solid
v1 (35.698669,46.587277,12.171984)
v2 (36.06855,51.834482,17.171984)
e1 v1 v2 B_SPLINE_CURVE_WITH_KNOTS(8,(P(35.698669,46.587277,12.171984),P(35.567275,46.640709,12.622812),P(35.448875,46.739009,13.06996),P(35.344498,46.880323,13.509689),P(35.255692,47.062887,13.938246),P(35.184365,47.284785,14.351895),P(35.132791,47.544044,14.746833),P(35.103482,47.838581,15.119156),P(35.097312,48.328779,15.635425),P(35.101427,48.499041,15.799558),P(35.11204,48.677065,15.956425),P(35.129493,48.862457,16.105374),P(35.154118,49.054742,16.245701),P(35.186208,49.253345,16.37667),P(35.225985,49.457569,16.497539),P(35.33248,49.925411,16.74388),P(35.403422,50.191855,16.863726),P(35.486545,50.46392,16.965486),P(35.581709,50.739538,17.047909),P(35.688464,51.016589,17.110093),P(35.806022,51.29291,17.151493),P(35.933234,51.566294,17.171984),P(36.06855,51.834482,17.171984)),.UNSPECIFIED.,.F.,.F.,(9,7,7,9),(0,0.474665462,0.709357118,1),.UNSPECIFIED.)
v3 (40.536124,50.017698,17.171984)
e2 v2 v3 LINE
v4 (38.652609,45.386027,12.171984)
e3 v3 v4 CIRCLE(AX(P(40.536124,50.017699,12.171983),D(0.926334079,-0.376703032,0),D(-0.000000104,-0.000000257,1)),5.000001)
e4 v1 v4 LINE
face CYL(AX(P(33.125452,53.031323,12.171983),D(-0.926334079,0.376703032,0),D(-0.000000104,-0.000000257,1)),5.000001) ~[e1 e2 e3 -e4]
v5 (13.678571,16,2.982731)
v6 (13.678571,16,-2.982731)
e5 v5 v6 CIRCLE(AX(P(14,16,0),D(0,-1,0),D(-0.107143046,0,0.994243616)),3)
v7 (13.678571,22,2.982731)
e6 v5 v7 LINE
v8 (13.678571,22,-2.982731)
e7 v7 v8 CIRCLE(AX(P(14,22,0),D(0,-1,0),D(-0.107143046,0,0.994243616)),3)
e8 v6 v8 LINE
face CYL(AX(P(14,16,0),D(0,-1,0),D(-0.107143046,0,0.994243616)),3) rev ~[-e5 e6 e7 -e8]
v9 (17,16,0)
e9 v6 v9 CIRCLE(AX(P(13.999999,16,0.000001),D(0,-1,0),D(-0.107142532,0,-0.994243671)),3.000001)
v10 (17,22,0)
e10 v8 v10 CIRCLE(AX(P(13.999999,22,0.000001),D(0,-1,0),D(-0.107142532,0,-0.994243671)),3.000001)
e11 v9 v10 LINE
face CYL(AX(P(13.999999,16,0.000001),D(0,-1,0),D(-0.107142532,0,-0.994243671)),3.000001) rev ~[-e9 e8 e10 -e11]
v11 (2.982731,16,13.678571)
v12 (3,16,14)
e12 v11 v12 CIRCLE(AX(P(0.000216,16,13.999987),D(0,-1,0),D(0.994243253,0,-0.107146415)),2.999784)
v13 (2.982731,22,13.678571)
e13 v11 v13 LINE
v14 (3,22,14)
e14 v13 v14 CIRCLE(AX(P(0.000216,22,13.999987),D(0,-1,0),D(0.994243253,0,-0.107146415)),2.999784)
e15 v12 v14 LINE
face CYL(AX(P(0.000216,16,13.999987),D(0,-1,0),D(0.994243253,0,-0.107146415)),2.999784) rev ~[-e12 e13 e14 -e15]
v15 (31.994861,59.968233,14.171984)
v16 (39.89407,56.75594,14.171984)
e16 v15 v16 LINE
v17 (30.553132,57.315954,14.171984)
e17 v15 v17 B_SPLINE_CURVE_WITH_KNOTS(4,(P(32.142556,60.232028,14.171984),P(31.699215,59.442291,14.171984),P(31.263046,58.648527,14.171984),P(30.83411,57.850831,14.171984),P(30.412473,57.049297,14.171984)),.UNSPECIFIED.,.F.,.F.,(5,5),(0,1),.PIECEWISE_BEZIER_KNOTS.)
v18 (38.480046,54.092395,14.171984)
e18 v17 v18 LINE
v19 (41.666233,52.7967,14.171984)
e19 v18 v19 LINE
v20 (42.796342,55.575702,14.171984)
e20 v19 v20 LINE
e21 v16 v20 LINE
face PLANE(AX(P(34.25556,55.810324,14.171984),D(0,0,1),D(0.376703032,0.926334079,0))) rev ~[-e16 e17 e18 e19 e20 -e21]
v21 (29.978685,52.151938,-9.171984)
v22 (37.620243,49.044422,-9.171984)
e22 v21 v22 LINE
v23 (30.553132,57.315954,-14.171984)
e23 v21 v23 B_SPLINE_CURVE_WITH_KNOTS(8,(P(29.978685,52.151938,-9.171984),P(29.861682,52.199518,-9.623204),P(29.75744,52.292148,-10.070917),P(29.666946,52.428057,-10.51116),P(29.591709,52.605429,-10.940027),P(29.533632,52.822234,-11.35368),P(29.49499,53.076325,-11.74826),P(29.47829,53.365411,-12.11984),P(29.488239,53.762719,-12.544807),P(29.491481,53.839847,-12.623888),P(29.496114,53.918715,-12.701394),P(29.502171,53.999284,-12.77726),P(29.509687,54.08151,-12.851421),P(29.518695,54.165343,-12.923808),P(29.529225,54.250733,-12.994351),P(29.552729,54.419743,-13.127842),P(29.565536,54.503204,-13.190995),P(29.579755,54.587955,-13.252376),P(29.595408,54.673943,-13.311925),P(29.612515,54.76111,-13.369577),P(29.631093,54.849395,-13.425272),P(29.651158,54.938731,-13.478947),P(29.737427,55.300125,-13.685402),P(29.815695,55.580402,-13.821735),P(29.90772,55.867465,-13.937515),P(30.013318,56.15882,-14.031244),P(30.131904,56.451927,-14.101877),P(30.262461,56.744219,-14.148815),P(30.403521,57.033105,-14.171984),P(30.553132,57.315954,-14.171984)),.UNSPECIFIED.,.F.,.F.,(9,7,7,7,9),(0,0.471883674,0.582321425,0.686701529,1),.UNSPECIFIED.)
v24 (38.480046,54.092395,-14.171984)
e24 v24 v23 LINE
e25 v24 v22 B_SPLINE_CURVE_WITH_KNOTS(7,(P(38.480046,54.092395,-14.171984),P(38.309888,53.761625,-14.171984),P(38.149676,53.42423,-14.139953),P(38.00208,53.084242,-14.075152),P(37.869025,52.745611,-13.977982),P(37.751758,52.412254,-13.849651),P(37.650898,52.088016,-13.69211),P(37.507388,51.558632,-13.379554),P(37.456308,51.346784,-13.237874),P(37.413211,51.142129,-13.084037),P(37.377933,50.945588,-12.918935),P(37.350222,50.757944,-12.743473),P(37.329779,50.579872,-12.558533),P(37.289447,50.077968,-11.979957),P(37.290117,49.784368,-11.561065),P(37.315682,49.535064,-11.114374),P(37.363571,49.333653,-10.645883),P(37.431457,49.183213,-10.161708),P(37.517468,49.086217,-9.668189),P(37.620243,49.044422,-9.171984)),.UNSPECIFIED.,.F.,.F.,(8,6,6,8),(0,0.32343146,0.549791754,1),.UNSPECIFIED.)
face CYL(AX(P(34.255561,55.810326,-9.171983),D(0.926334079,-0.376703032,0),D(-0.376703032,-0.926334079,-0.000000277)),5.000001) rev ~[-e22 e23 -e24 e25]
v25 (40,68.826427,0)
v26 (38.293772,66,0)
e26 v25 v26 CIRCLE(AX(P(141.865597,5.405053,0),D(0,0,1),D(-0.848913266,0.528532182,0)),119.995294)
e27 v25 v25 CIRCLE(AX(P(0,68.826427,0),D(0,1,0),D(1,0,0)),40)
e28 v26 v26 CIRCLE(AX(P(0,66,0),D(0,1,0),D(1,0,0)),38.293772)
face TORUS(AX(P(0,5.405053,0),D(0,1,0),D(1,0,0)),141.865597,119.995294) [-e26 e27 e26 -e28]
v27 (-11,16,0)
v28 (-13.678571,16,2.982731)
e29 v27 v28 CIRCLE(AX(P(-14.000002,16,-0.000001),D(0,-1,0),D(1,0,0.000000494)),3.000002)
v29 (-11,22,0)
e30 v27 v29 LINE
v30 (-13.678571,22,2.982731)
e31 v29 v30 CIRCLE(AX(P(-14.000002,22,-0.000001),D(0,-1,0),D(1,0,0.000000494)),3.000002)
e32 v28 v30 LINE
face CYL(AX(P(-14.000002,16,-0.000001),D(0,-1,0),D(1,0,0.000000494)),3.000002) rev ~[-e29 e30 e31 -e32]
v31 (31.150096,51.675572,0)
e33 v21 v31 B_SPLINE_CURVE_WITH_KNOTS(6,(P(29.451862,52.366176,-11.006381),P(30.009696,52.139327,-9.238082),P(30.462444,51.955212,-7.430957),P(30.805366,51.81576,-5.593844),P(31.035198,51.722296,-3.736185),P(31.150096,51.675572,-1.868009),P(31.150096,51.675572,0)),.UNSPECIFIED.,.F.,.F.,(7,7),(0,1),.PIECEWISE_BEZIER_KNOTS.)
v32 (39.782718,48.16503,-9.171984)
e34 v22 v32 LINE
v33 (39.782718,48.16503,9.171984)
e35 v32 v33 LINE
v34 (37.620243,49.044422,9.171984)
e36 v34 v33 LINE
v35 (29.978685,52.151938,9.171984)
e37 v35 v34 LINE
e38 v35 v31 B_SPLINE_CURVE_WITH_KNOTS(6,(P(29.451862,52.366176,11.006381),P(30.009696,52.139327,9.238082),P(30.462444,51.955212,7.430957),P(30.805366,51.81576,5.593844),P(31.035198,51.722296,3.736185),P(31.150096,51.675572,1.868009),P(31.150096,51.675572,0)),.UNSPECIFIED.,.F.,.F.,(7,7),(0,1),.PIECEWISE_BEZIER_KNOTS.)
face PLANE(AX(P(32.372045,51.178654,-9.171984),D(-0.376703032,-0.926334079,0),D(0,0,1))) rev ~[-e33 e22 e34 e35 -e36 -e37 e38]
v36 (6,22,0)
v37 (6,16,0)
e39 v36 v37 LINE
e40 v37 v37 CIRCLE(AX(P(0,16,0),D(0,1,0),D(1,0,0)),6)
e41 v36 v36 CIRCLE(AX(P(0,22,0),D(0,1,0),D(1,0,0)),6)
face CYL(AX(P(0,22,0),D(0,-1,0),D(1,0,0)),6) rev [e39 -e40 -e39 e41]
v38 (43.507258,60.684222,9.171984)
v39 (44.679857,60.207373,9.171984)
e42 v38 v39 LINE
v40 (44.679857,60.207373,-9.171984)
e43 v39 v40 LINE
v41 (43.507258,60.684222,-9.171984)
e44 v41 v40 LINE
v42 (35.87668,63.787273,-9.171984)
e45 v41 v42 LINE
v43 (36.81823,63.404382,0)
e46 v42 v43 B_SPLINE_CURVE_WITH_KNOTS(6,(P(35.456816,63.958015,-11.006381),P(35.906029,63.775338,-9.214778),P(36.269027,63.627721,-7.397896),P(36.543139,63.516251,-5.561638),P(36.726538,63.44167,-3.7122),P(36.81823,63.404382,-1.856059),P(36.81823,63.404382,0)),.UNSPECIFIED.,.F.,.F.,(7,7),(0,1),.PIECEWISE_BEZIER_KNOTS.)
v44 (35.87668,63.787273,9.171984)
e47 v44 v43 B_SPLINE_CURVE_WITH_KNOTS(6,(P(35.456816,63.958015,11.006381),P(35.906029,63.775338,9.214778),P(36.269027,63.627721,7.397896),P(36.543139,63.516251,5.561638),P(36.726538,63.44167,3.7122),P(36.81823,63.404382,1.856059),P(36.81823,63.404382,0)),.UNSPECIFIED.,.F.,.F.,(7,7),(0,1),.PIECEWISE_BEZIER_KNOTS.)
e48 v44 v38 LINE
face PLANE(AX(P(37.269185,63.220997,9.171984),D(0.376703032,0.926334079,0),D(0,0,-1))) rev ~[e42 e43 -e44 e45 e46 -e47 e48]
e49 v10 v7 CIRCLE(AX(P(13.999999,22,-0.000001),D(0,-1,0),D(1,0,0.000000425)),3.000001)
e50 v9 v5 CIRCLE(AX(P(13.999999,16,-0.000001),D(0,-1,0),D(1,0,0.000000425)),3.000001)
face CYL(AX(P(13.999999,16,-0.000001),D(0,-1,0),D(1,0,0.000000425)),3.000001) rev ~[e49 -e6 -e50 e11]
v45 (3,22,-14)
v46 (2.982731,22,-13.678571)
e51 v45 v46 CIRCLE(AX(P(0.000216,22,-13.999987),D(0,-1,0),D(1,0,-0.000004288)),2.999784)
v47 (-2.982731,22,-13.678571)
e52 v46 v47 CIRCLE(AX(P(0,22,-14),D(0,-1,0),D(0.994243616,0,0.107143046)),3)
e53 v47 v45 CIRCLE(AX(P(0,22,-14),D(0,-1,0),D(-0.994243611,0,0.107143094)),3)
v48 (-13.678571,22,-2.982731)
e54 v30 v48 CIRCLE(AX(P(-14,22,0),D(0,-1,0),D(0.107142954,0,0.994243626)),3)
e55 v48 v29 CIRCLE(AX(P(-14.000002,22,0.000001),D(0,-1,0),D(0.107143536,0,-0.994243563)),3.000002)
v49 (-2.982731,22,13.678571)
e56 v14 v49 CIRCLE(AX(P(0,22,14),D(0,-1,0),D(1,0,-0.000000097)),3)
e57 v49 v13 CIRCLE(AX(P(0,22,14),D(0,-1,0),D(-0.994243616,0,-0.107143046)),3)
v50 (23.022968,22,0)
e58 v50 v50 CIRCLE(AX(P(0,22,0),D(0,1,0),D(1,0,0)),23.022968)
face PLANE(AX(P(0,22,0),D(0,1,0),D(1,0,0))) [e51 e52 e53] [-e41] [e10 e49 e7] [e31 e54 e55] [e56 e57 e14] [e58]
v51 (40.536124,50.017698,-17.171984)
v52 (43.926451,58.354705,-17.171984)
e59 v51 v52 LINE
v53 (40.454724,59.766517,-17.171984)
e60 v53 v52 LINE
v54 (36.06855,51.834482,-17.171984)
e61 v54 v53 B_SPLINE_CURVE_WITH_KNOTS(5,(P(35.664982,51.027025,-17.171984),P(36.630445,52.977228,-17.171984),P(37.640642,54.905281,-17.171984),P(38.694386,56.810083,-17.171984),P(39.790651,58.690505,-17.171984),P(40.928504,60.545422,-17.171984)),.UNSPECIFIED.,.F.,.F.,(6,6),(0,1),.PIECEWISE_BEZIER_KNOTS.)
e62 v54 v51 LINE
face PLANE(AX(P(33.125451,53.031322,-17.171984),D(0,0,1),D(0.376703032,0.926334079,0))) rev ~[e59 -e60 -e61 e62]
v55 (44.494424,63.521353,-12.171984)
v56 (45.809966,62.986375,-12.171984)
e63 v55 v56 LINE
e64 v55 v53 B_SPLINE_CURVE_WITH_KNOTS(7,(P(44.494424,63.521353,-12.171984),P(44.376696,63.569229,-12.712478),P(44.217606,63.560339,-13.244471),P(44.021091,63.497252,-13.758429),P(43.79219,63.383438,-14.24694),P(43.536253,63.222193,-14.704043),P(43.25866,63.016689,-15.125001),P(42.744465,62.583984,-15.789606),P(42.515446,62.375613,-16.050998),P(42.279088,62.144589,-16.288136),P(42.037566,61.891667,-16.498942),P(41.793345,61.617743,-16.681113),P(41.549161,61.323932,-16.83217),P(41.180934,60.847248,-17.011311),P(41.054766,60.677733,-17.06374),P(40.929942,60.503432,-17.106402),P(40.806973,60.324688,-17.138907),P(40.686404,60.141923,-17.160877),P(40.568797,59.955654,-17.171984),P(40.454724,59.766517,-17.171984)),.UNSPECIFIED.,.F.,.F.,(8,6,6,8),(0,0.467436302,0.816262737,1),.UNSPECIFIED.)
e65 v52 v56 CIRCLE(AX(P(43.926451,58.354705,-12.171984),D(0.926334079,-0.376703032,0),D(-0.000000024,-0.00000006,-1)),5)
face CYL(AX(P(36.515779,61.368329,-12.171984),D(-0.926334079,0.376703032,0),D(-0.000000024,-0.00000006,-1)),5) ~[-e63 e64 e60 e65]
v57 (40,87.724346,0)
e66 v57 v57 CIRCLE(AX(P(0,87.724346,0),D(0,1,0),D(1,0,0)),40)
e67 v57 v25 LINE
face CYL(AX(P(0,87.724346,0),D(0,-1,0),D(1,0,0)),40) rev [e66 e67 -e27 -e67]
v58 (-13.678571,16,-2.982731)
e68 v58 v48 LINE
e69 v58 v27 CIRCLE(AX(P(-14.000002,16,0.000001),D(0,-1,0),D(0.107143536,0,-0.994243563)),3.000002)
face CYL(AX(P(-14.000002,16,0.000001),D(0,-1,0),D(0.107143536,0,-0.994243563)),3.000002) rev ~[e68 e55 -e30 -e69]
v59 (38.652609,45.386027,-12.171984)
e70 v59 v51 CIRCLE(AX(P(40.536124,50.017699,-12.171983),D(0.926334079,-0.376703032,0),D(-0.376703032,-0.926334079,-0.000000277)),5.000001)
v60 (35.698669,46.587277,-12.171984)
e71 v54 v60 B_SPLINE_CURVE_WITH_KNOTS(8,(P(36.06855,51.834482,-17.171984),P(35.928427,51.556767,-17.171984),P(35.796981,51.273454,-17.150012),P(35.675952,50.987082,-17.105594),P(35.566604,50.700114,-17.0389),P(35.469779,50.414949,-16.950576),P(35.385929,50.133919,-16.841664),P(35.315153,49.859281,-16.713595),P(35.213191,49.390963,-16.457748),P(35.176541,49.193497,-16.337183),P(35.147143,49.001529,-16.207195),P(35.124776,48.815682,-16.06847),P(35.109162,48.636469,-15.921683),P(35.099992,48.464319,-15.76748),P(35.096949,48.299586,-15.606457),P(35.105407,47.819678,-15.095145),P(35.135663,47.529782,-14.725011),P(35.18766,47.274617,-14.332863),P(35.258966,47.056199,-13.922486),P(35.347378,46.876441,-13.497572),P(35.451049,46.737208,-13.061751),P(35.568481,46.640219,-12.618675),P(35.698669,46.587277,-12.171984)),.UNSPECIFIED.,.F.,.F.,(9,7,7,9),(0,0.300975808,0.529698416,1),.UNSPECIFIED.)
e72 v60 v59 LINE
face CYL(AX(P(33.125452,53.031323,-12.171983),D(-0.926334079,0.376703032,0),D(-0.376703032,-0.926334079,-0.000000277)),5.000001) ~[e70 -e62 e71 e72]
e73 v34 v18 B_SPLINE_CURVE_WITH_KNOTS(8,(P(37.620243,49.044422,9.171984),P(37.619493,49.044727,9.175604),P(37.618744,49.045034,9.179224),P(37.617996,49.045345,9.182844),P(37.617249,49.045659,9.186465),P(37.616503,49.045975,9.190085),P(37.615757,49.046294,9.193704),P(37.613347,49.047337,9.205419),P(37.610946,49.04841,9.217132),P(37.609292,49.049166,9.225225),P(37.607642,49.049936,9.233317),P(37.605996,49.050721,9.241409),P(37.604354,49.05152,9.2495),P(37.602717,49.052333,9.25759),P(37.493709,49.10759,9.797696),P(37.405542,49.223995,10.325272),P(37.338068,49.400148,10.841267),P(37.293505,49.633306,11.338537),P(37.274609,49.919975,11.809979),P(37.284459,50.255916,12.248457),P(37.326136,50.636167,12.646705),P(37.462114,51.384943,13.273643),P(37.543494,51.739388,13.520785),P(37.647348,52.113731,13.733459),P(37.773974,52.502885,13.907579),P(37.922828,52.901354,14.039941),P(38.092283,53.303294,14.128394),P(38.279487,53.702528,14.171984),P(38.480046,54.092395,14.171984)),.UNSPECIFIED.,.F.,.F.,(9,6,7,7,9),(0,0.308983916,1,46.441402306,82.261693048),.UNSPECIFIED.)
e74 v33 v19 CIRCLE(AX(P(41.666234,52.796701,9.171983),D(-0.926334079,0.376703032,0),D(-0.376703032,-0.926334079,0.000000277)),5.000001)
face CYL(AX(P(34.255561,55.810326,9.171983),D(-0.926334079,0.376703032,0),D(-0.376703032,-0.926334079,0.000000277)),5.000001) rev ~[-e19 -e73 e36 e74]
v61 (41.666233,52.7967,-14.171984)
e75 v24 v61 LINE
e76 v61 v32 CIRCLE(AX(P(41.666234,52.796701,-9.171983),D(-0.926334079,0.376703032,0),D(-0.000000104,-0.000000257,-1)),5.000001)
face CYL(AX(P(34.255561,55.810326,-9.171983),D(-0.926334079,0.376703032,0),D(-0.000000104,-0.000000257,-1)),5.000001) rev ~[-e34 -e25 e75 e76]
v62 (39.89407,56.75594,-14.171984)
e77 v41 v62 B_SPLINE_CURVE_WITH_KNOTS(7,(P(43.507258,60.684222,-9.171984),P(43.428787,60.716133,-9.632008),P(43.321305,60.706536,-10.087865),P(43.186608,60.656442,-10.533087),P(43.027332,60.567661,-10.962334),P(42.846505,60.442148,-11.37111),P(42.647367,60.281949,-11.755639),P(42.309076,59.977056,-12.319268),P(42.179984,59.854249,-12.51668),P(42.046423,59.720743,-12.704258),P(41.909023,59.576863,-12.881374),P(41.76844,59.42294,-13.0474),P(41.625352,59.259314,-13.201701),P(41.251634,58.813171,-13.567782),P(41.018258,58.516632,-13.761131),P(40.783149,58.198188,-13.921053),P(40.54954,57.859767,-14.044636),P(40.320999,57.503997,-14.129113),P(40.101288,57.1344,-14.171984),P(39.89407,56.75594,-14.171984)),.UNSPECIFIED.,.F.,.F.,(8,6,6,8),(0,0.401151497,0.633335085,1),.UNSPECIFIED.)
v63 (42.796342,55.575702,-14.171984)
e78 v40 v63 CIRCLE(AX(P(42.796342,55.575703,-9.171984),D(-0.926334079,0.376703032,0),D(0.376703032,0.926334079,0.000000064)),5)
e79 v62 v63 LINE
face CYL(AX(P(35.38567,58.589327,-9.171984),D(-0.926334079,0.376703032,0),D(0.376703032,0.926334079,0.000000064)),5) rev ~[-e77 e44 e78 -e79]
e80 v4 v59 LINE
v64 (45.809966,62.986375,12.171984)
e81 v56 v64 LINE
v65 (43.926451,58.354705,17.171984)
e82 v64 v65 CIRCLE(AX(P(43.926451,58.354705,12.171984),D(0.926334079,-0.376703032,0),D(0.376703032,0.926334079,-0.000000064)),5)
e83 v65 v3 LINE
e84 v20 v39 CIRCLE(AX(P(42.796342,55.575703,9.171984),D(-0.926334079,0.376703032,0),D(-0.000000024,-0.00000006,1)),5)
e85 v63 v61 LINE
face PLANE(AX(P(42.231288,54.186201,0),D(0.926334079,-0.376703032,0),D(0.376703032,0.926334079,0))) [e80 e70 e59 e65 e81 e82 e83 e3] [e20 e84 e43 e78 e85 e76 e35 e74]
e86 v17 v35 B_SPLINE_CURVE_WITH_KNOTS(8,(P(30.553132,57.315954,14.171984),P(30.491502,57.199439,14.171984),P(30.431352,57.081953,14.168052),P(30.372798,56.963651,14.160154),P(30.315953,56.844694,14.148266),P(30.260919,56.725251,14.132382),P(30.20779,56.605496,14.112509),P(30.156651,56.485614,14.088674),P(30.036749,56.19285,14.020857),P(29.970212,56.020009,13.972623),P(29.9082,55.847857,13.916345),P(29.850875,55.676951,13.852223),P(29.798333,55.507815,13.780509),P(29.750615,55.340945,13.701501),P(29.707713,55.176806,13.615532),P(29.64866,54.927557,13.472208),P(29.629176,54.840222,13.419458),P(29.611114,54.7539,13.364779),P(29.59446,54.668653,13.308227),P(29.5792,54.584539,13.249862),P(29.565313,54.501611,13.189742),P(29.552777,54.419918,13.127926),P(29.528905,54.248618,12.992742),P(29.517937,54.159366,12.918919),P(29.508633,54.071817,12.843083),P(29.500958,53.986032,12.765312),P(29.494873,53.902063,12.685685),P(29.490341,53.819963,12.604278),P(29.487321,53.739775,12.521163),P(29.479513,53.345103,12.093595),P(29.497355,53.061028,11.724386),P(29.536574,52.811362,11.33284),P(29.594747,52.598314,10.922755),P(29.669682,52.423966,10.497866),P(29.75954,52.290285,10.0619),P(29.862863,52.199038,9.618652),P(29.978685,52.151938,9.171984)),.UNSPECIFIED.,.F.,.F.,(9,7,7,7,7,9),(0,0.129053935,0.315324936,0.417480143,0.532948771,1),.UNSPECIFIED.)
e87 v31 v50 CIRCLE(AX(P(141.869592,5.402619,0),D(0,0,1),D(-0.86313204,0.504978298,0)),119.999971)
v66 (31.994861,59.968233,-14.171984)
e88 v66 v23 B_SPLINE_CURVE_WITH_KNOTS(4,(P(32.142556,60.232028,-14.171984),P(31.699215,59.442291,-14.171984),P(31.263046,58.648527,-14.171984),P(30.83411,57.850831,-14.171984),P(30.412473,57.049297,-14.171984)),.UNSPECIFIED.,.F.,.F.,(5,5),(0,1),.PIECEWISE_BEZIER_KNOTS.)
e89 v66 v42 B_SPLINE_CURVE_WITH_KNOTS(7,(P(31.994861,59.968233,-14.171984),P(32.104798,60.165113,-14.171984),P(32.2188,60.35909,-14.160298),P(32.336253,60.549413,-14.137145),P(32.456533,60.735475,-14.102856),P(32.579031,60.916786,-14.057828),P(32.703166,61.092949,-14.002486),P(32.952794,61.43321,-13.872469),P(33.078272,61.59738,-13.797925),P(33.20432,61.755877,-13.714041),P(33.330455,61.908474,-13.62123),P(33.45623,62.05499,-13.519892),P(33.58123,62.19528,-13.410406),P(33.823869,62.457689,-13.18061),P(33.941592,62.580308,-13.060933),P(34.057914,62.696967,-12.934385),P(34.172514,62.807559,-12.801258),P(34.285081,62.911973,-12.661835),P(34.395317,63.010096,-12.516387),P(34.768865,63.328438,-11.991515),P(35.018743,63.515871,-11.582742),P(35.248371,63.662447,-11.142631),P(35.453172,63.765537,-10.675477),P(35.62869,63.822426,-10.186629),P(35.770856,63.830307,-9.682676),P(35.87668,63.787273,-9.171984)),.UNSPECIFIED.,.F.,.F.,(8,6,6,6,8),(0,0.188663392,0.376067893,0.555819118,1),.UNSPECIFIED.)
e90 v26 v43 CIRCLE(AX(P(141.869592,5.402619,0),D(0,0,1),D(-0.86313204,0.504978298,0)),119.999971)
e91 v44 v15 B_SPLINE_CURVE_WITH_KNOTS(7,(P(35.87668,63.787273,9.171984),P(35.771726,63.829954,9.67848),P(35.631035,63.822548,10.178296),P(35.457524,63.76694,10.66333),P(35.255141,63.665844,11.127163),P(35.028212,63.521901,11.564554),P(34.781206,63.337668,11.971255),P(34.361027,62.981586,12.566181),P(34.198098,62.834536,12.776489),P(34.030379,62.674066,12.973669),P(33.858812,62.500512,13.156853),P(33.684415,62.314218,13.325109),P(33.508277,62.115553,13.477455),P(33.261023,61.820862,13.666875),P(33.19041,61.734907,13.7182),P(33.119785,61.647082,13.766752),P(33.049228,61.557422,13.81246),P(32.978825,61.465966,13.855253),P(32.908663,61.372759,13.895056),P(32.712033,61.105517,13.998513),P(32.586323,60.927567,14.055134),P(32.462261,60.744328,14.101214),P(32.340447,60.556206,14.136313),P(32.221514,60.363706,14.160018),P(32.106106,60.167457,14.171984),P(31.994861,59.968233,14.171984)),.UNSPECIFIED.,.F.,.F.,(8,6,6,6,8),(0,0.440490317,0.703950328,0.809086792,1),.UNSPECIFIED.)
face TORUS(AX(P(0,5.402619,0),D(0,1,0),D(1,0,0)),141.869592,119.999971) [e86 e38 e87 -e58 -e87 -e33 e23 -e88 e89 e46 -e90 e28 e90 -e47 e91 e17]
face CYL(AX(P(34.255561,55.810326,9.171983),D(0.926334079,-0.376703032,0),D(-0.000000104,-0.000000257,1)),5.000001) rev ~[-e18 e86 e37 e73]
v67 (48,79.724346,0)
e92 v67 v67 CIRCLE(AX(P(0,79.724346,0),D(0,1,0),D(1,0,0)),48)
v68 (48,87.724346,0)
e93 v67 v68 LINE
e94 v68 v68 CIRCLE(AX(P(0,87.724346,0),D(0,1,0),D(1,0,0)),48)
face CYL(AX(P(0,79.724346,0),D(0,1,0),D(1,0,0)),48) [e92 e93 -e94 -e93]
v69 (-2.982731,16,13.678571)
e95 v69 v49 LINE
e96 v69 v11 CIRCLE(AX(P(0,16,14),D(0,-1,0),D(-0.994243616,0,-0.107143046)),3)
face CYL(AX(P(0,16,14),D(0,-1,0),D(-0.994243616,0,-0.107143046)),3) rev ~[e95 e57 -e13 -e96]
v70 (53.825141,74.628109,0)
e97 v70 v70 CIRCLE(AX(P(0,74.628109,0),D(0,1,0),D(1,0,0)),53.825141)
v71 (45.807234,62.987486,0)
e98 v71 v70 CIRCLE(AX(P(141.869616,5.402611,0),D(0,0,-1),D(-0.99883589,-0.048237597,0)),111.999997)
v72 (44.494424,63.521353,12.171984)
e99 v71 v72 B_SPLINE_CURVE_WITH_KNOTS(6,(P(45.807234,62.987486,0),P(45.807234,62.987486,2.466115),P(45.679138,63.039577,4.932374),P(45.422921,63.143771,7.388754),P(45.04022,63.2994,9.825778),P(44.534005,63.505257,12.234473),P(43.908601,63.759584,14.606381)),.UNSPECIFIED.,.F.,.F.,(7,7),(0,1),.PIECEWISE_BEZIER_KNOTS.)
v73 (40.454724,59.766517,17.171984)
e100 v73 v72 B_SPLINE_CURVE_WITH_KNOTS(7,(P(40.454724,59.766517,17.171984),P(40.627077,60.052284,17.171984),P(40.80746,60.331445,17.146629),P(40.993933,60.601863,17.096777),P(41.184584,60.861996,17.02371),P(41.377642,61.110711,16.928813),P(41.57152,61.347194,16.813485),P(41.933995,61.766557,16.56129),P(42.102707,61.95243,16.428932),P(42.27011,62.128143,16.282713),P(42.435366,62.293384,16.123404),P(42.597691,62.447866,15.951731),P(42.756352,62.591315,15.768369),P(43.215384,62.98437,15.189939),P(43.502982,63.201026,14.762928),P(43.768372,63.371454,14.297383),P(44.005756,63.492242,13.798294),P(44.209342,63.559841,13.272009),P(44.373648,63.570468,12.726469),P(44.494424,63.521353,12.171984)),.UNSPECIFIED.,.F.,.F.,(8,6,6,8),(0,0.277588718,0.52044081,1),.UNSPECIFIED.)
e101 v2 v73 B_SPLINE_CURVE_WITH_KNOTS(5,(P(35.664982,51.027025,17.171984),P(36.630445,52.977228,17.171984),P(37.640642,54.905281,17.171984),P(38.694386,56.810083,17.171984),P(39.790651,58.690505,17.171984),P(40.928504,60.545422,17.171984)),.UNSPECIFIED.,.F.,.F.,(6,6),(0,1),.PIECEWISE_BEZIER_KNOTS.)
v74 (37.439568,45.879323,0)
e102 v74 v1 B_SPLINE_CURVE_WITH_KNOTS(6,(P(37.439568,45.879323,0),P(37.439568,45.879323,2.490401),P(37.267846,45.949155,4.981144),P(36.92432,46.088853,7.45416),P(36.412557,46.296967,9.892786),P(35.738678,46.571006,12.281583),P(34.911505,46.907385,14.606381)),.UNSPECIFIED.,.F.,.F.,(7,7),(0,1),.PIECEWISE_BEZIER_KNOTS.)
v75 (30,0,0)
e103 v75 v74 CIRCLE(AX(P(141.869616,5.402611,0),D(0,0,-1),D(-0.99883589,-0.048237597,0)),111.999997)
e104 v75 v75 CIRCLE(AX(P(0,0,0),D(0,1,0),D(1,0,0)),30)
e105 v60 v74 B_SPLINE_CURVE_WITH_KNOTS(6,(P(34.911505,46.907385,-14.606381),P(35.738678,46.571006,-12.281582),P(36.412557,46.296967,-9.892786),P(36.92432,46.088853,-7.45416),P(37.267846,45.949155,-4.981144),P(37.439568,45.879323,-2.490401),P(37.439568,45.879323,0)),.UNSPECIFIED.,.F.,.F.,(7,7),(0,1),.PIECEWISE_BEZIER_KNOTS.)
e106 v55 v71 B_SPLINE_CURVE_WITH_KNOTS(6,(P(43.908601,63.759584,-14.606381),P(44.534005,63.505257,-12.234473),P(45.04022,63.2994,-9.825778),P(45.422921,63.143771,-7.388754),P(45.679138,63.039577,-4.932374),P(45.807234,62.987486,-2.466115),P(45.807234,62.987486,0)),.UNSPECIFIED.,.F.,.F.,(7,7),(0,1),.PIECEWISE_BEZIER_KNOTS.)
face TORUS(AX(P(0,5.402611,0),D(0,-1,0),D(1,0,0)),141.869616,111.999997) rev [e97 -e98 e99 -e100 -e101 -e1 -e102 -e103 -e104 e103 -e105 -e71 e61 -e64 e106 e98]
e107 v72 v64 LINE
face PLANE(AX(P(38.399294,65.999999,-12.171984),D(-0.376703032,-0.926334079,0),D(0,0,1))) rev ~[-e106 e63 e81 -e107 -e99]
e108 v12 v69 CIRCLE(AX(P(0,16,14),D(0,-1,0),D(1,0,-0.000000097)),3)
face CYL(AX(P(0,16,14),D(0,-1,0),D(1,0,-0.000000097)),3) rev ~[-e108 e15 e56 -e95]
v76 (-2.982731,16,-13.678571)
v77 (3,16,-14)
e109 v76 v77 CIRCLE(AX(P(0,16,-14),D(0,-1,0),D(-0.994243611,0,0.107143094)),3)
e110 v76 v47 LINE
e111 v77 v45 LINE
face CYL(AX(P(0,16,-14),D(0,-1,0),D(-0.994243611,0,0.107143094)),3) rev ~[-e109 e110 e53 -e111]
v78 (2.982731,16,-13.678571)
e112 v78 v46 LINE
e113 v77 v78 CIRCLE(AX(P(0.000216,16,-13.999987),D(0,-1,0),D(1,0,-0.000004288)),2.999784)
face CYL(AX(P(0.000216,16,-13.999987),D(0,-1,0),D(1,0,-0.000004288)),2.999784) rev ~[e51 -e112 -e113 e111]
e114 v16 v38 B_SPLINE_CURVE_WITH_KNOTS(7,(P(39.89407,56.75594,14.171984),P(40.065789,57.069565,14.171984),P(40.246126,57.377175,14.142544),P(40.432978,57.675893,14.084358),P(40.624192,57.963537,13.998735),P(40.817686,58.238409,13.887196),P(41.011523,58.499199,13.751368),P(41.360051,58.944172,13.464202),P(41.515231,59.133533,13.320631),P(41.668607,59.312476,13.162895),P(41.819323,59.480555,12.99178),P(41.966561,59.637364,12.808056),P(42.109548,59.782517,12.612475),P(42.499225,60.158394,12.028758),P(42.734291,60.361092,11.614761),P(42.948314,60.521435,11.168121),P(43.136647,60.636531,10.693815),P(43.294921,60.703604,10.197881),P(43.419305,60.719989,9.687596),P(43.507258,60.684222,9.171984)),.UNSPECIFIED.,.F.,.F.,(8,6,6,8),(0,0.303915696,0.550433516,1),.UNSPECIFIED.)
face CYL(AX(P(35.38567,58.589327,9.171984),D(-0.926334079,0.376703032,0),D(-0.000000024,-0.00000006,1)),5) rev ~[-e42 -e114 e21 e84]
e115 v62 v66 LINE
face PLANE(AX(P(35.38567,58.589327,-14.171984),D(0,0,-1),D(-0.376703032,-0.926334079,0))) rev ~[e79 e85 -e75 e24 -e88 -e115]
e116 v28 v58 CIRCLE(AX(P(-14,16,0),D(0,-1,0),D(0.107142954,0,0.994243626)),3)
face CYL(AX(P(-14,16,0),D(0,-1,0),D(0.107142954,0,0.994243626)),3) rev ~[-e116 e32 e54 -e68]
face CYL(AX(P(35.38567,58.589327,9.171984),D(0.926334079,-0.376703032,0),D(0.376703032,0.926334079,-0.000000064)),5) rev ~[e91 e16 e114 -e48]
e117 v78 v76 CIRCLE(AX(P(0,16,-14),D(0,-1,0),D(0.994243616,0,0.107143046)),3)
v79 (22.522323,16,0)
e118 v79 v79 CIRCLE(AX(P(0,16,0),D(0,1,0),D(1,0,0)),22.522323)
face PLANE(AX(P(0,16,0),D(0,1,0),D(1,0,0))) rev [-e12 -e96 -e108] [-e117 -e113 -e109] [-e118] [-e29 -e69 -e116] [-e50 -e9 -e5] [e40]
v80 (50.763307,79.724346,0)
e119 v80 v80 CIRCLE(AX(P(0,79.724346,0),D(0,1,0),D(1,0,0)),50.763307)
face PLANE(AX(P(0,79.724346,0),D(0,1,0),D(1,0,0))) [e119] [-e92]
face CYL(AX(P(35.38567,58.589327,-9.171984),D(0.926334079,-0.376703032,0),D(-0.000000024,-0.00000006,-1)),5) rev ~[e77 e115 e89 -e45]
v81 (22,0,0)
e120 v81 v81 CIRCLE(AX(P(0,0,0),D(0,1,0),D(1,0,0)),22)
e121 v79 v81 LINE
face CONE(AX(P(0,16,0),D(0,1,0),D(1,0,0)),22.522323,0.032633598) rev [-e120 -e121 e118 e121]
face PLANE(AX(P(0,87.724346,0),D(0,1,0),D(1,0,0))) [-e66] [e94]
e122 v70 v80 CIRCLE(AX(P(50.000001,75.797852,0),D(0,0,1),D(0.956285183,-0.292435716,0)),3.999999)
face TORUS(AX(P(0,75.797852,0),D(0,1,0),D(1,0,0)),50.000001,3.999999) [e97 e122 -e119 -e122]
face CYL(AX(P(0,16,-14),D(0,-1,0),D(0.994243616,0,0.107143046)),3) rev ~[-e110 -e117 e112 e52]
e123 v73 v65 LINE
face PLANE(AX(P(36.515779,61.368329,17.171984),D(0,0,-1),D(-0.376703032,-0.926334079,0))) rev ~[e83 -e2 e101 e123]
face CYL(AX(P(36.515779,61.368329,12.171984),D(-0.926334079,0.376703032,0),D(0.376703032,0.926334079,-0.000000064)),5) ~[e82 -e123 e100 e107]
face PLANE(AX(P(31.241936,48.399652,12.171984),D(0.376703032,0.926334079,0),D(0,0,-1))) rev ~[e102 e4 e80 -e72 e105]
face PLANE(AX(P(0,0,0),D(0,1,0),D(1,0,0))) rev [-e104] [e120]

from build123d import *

# Parameters (mm, degrees)
F3_DEPTH = 25
F7_DEPTH = 8
F8_DEPTH = 12.7


with BuildPart() as f1:
    # F0 (on Top) → F1 (revolve)
    with BuildSketch(Plane.XY):
        with BuildLine():
            Line((6, 22), (6, 16))
            Line((6, 16), (22.248531, 16))
            Line((22.248531, 16), (22.522323, 16))
            Line((22.522323, 16), (22, 0))
            Line((22, 0), (30, 0))
            ThreePointArc((30, 0), (35.17496, 39.465047), (53.825141, 74.628109))
            ThreePointArc((53.825141, 74.628109), (53.428757, 77.857858), (50.763307, 79.724346))
            Line((50.763307, 79.724346), (48, 79.724346))
            Line((48, 79.724346), (48, 87.724346))
            Line((48, 87.724346), (40, 87.724346))
            Line((40, 87.724346), (40, 80))
            Line((40, 80), (40, 68.826427))
            ThreePointArc((40, 68.826427), (39.137165, 67.419082), (38.293772, 66))
            ThreePointArc((38.293772, 66), (28.503213, 44.747977), (23.022968, 22))
            Line((23.022968, 22), (6, 22))
        make_face()
    revolve(axis=Axis((0, 86, 0), (0, 1, 0)))

    # F2 (on face) → F3 (cut)
    with BuildSketch(Plane.XZ.offset(-16)):
        with BuildLine():
            ThreePointArc((3, 14), (-0.160946, 16.99568), (-2.982731, 13.678571))
            ThreePointArc((-2.982731, 13.678571), (0, 11), (2.982731, 13.678571))
            ThreePointArc((2.982731, 13.678571), (2.99568, 13.839054), (3, 14))
        make_face()
        with BuildLine():
            ThreePointArc((13.678571, 2.982731), (11, 0), (13.678571, -2.982731))
            ThreePointArc((13.678571, -2.982731), (16.004459, -2.232071), (17, 0))
            ThreePointArc((17, 0), (16.004459, 2.232071), (13.678571, 2.982731))
        make_face()
        with BuildLine():
            ThreePointArc((2.982731, -13.678571), (0, -11), (-2.982731, -13.678571))
            ThreePointArc((-2.982731, -13.678571), (-0.160946, -16.99568), (3, -14))
            ThreePointArc((3, -14), (2.99568, -13.839054), (2.982731, -13.678571))
        make_face()
        with BuildLine():
            ThreePointArc((-13.678571, 2.982731), (-17, 0), (-13.678571, -2.982731))
            ThreePointArc((-13.678571, -2.982731), (-11.767929, -2.004459), (-11, 0))
            ThreePointArc((-11, 0), (-11.767929, 2.004459), (-13.678571, 2.982731))
        make_face()
    extrude(amount=-F3_DEPTH, mode=Mode.SUBTRACT)

    # F6 (on face) → F7 (join)
    with BuildSketch(Plane(origin=(9.919347, -4.033802, 0), x_dir=(0.376703, 0.926334, 0), z_dir=(0.926334, -0.376703, 0))):
        with BuildLine():
            Line((75.603179, -12.171984), (75.603179, 0))
            Line((75.603179, 0), (75.603179, 12.171984))
            ThreePointArc((75.603179, 12.171984), (74.138713, 15.707518), (70.603179, 17.171984))
            Line((70.603179, 17.171984), (61.603179, 17.171984))
            ThreePointArc((61.603179, 17.171984), (58.067646, 15.707518), (56.603179, 12.171984))
            Line((56.603179, 12.171984), (56.603179, 0))
            Line((56.603179, 0), (56.603179, -12.171984))
            ThreePointArc((56.603179, -12.171984), (58.067646, -15.707518), (61.603179, -17.171984))
            Line((61.603179, -17.171984), (70.603179, -17.171984))
            ThreePointArc((70.603179, -17.171984), (74.138713, -15.707518), (75.603179, -12.171984))
        make_face()
        with BuildLine():
            Line((72.603179, 9.171984), (72.603179, 0))
            Line((72.603179, 0), (72.603179, -9.171984))
            ThreePointArc((72.603179, -9.171984), (71.138713, -12.707518), (67.603179, -14.171984))
            Line((67.603179, -14.171984), (64.603179, -14.171984))
            ThreePointArc((64.603179, -14.171984), (61.067646, -12.707518), (59.603179, -9.171984))
            Line((59.603179, -9.171984), (59.603179, 0))
            Line((59.603179, 0), (59.603179, 9.171984))
            ThreePointArc((59.603179, 9.171984), (61.067646, 12.707518), (64.603179, 14.171984))
            Line((64.603179, 14.171984), (67.603179, 14.171984))
            ThreePointArc((67.603179, 14.171984), (71.138713, 12.707518), (72.603179, 9.171984))
        make_face(mode=Mode.SUBTRACT)
    extrude(amount=F7_DEPTH)

    # F6 (on face) → F8 (cut, symmetric)
    with BuildSketch(Plane(origin=(9.919347, -4.033802, 0), x_dir=(0.376703, 0.926334, 0), z_dir=(0.926334, -0.376703, 0))):
        with BuildLine():
            Line((72.603179, -9.171984), (72.603179, 0))
            Line((72.603179, 0), (72.603179, 9.171984))
            ThreePointArc((72.603179, 9.171984), (71.138713, 12.707518), (67.603179, 14.171984))
            Line((67.603179, 14.171984), (64.603179, 14.171984))
            ThreePointArc((64.603179, 14.171984), (61.067646, 12.707518), (59.603179, 9.171984))
            Line((59.603179, 9.171984), (59.603179, 0))
            Line((59.603179, 0), (59.603179, -9.171984))
            ThreePointArc((59.603179, -9.171984), (61.067646, -12.707518), (64.603179, -14.171984))
            Line((64.603179, -14.171984), (67.603179, -14.171984))
            ThreePointArc((67.603179, -14.171984), (71.138713, -12.707518), (72.603179, -9.171984))
        make_face()
    extrude(amount=F8_DEPTH, both=True, mode=Mode.SUBTRACT)


solid = f1.part
